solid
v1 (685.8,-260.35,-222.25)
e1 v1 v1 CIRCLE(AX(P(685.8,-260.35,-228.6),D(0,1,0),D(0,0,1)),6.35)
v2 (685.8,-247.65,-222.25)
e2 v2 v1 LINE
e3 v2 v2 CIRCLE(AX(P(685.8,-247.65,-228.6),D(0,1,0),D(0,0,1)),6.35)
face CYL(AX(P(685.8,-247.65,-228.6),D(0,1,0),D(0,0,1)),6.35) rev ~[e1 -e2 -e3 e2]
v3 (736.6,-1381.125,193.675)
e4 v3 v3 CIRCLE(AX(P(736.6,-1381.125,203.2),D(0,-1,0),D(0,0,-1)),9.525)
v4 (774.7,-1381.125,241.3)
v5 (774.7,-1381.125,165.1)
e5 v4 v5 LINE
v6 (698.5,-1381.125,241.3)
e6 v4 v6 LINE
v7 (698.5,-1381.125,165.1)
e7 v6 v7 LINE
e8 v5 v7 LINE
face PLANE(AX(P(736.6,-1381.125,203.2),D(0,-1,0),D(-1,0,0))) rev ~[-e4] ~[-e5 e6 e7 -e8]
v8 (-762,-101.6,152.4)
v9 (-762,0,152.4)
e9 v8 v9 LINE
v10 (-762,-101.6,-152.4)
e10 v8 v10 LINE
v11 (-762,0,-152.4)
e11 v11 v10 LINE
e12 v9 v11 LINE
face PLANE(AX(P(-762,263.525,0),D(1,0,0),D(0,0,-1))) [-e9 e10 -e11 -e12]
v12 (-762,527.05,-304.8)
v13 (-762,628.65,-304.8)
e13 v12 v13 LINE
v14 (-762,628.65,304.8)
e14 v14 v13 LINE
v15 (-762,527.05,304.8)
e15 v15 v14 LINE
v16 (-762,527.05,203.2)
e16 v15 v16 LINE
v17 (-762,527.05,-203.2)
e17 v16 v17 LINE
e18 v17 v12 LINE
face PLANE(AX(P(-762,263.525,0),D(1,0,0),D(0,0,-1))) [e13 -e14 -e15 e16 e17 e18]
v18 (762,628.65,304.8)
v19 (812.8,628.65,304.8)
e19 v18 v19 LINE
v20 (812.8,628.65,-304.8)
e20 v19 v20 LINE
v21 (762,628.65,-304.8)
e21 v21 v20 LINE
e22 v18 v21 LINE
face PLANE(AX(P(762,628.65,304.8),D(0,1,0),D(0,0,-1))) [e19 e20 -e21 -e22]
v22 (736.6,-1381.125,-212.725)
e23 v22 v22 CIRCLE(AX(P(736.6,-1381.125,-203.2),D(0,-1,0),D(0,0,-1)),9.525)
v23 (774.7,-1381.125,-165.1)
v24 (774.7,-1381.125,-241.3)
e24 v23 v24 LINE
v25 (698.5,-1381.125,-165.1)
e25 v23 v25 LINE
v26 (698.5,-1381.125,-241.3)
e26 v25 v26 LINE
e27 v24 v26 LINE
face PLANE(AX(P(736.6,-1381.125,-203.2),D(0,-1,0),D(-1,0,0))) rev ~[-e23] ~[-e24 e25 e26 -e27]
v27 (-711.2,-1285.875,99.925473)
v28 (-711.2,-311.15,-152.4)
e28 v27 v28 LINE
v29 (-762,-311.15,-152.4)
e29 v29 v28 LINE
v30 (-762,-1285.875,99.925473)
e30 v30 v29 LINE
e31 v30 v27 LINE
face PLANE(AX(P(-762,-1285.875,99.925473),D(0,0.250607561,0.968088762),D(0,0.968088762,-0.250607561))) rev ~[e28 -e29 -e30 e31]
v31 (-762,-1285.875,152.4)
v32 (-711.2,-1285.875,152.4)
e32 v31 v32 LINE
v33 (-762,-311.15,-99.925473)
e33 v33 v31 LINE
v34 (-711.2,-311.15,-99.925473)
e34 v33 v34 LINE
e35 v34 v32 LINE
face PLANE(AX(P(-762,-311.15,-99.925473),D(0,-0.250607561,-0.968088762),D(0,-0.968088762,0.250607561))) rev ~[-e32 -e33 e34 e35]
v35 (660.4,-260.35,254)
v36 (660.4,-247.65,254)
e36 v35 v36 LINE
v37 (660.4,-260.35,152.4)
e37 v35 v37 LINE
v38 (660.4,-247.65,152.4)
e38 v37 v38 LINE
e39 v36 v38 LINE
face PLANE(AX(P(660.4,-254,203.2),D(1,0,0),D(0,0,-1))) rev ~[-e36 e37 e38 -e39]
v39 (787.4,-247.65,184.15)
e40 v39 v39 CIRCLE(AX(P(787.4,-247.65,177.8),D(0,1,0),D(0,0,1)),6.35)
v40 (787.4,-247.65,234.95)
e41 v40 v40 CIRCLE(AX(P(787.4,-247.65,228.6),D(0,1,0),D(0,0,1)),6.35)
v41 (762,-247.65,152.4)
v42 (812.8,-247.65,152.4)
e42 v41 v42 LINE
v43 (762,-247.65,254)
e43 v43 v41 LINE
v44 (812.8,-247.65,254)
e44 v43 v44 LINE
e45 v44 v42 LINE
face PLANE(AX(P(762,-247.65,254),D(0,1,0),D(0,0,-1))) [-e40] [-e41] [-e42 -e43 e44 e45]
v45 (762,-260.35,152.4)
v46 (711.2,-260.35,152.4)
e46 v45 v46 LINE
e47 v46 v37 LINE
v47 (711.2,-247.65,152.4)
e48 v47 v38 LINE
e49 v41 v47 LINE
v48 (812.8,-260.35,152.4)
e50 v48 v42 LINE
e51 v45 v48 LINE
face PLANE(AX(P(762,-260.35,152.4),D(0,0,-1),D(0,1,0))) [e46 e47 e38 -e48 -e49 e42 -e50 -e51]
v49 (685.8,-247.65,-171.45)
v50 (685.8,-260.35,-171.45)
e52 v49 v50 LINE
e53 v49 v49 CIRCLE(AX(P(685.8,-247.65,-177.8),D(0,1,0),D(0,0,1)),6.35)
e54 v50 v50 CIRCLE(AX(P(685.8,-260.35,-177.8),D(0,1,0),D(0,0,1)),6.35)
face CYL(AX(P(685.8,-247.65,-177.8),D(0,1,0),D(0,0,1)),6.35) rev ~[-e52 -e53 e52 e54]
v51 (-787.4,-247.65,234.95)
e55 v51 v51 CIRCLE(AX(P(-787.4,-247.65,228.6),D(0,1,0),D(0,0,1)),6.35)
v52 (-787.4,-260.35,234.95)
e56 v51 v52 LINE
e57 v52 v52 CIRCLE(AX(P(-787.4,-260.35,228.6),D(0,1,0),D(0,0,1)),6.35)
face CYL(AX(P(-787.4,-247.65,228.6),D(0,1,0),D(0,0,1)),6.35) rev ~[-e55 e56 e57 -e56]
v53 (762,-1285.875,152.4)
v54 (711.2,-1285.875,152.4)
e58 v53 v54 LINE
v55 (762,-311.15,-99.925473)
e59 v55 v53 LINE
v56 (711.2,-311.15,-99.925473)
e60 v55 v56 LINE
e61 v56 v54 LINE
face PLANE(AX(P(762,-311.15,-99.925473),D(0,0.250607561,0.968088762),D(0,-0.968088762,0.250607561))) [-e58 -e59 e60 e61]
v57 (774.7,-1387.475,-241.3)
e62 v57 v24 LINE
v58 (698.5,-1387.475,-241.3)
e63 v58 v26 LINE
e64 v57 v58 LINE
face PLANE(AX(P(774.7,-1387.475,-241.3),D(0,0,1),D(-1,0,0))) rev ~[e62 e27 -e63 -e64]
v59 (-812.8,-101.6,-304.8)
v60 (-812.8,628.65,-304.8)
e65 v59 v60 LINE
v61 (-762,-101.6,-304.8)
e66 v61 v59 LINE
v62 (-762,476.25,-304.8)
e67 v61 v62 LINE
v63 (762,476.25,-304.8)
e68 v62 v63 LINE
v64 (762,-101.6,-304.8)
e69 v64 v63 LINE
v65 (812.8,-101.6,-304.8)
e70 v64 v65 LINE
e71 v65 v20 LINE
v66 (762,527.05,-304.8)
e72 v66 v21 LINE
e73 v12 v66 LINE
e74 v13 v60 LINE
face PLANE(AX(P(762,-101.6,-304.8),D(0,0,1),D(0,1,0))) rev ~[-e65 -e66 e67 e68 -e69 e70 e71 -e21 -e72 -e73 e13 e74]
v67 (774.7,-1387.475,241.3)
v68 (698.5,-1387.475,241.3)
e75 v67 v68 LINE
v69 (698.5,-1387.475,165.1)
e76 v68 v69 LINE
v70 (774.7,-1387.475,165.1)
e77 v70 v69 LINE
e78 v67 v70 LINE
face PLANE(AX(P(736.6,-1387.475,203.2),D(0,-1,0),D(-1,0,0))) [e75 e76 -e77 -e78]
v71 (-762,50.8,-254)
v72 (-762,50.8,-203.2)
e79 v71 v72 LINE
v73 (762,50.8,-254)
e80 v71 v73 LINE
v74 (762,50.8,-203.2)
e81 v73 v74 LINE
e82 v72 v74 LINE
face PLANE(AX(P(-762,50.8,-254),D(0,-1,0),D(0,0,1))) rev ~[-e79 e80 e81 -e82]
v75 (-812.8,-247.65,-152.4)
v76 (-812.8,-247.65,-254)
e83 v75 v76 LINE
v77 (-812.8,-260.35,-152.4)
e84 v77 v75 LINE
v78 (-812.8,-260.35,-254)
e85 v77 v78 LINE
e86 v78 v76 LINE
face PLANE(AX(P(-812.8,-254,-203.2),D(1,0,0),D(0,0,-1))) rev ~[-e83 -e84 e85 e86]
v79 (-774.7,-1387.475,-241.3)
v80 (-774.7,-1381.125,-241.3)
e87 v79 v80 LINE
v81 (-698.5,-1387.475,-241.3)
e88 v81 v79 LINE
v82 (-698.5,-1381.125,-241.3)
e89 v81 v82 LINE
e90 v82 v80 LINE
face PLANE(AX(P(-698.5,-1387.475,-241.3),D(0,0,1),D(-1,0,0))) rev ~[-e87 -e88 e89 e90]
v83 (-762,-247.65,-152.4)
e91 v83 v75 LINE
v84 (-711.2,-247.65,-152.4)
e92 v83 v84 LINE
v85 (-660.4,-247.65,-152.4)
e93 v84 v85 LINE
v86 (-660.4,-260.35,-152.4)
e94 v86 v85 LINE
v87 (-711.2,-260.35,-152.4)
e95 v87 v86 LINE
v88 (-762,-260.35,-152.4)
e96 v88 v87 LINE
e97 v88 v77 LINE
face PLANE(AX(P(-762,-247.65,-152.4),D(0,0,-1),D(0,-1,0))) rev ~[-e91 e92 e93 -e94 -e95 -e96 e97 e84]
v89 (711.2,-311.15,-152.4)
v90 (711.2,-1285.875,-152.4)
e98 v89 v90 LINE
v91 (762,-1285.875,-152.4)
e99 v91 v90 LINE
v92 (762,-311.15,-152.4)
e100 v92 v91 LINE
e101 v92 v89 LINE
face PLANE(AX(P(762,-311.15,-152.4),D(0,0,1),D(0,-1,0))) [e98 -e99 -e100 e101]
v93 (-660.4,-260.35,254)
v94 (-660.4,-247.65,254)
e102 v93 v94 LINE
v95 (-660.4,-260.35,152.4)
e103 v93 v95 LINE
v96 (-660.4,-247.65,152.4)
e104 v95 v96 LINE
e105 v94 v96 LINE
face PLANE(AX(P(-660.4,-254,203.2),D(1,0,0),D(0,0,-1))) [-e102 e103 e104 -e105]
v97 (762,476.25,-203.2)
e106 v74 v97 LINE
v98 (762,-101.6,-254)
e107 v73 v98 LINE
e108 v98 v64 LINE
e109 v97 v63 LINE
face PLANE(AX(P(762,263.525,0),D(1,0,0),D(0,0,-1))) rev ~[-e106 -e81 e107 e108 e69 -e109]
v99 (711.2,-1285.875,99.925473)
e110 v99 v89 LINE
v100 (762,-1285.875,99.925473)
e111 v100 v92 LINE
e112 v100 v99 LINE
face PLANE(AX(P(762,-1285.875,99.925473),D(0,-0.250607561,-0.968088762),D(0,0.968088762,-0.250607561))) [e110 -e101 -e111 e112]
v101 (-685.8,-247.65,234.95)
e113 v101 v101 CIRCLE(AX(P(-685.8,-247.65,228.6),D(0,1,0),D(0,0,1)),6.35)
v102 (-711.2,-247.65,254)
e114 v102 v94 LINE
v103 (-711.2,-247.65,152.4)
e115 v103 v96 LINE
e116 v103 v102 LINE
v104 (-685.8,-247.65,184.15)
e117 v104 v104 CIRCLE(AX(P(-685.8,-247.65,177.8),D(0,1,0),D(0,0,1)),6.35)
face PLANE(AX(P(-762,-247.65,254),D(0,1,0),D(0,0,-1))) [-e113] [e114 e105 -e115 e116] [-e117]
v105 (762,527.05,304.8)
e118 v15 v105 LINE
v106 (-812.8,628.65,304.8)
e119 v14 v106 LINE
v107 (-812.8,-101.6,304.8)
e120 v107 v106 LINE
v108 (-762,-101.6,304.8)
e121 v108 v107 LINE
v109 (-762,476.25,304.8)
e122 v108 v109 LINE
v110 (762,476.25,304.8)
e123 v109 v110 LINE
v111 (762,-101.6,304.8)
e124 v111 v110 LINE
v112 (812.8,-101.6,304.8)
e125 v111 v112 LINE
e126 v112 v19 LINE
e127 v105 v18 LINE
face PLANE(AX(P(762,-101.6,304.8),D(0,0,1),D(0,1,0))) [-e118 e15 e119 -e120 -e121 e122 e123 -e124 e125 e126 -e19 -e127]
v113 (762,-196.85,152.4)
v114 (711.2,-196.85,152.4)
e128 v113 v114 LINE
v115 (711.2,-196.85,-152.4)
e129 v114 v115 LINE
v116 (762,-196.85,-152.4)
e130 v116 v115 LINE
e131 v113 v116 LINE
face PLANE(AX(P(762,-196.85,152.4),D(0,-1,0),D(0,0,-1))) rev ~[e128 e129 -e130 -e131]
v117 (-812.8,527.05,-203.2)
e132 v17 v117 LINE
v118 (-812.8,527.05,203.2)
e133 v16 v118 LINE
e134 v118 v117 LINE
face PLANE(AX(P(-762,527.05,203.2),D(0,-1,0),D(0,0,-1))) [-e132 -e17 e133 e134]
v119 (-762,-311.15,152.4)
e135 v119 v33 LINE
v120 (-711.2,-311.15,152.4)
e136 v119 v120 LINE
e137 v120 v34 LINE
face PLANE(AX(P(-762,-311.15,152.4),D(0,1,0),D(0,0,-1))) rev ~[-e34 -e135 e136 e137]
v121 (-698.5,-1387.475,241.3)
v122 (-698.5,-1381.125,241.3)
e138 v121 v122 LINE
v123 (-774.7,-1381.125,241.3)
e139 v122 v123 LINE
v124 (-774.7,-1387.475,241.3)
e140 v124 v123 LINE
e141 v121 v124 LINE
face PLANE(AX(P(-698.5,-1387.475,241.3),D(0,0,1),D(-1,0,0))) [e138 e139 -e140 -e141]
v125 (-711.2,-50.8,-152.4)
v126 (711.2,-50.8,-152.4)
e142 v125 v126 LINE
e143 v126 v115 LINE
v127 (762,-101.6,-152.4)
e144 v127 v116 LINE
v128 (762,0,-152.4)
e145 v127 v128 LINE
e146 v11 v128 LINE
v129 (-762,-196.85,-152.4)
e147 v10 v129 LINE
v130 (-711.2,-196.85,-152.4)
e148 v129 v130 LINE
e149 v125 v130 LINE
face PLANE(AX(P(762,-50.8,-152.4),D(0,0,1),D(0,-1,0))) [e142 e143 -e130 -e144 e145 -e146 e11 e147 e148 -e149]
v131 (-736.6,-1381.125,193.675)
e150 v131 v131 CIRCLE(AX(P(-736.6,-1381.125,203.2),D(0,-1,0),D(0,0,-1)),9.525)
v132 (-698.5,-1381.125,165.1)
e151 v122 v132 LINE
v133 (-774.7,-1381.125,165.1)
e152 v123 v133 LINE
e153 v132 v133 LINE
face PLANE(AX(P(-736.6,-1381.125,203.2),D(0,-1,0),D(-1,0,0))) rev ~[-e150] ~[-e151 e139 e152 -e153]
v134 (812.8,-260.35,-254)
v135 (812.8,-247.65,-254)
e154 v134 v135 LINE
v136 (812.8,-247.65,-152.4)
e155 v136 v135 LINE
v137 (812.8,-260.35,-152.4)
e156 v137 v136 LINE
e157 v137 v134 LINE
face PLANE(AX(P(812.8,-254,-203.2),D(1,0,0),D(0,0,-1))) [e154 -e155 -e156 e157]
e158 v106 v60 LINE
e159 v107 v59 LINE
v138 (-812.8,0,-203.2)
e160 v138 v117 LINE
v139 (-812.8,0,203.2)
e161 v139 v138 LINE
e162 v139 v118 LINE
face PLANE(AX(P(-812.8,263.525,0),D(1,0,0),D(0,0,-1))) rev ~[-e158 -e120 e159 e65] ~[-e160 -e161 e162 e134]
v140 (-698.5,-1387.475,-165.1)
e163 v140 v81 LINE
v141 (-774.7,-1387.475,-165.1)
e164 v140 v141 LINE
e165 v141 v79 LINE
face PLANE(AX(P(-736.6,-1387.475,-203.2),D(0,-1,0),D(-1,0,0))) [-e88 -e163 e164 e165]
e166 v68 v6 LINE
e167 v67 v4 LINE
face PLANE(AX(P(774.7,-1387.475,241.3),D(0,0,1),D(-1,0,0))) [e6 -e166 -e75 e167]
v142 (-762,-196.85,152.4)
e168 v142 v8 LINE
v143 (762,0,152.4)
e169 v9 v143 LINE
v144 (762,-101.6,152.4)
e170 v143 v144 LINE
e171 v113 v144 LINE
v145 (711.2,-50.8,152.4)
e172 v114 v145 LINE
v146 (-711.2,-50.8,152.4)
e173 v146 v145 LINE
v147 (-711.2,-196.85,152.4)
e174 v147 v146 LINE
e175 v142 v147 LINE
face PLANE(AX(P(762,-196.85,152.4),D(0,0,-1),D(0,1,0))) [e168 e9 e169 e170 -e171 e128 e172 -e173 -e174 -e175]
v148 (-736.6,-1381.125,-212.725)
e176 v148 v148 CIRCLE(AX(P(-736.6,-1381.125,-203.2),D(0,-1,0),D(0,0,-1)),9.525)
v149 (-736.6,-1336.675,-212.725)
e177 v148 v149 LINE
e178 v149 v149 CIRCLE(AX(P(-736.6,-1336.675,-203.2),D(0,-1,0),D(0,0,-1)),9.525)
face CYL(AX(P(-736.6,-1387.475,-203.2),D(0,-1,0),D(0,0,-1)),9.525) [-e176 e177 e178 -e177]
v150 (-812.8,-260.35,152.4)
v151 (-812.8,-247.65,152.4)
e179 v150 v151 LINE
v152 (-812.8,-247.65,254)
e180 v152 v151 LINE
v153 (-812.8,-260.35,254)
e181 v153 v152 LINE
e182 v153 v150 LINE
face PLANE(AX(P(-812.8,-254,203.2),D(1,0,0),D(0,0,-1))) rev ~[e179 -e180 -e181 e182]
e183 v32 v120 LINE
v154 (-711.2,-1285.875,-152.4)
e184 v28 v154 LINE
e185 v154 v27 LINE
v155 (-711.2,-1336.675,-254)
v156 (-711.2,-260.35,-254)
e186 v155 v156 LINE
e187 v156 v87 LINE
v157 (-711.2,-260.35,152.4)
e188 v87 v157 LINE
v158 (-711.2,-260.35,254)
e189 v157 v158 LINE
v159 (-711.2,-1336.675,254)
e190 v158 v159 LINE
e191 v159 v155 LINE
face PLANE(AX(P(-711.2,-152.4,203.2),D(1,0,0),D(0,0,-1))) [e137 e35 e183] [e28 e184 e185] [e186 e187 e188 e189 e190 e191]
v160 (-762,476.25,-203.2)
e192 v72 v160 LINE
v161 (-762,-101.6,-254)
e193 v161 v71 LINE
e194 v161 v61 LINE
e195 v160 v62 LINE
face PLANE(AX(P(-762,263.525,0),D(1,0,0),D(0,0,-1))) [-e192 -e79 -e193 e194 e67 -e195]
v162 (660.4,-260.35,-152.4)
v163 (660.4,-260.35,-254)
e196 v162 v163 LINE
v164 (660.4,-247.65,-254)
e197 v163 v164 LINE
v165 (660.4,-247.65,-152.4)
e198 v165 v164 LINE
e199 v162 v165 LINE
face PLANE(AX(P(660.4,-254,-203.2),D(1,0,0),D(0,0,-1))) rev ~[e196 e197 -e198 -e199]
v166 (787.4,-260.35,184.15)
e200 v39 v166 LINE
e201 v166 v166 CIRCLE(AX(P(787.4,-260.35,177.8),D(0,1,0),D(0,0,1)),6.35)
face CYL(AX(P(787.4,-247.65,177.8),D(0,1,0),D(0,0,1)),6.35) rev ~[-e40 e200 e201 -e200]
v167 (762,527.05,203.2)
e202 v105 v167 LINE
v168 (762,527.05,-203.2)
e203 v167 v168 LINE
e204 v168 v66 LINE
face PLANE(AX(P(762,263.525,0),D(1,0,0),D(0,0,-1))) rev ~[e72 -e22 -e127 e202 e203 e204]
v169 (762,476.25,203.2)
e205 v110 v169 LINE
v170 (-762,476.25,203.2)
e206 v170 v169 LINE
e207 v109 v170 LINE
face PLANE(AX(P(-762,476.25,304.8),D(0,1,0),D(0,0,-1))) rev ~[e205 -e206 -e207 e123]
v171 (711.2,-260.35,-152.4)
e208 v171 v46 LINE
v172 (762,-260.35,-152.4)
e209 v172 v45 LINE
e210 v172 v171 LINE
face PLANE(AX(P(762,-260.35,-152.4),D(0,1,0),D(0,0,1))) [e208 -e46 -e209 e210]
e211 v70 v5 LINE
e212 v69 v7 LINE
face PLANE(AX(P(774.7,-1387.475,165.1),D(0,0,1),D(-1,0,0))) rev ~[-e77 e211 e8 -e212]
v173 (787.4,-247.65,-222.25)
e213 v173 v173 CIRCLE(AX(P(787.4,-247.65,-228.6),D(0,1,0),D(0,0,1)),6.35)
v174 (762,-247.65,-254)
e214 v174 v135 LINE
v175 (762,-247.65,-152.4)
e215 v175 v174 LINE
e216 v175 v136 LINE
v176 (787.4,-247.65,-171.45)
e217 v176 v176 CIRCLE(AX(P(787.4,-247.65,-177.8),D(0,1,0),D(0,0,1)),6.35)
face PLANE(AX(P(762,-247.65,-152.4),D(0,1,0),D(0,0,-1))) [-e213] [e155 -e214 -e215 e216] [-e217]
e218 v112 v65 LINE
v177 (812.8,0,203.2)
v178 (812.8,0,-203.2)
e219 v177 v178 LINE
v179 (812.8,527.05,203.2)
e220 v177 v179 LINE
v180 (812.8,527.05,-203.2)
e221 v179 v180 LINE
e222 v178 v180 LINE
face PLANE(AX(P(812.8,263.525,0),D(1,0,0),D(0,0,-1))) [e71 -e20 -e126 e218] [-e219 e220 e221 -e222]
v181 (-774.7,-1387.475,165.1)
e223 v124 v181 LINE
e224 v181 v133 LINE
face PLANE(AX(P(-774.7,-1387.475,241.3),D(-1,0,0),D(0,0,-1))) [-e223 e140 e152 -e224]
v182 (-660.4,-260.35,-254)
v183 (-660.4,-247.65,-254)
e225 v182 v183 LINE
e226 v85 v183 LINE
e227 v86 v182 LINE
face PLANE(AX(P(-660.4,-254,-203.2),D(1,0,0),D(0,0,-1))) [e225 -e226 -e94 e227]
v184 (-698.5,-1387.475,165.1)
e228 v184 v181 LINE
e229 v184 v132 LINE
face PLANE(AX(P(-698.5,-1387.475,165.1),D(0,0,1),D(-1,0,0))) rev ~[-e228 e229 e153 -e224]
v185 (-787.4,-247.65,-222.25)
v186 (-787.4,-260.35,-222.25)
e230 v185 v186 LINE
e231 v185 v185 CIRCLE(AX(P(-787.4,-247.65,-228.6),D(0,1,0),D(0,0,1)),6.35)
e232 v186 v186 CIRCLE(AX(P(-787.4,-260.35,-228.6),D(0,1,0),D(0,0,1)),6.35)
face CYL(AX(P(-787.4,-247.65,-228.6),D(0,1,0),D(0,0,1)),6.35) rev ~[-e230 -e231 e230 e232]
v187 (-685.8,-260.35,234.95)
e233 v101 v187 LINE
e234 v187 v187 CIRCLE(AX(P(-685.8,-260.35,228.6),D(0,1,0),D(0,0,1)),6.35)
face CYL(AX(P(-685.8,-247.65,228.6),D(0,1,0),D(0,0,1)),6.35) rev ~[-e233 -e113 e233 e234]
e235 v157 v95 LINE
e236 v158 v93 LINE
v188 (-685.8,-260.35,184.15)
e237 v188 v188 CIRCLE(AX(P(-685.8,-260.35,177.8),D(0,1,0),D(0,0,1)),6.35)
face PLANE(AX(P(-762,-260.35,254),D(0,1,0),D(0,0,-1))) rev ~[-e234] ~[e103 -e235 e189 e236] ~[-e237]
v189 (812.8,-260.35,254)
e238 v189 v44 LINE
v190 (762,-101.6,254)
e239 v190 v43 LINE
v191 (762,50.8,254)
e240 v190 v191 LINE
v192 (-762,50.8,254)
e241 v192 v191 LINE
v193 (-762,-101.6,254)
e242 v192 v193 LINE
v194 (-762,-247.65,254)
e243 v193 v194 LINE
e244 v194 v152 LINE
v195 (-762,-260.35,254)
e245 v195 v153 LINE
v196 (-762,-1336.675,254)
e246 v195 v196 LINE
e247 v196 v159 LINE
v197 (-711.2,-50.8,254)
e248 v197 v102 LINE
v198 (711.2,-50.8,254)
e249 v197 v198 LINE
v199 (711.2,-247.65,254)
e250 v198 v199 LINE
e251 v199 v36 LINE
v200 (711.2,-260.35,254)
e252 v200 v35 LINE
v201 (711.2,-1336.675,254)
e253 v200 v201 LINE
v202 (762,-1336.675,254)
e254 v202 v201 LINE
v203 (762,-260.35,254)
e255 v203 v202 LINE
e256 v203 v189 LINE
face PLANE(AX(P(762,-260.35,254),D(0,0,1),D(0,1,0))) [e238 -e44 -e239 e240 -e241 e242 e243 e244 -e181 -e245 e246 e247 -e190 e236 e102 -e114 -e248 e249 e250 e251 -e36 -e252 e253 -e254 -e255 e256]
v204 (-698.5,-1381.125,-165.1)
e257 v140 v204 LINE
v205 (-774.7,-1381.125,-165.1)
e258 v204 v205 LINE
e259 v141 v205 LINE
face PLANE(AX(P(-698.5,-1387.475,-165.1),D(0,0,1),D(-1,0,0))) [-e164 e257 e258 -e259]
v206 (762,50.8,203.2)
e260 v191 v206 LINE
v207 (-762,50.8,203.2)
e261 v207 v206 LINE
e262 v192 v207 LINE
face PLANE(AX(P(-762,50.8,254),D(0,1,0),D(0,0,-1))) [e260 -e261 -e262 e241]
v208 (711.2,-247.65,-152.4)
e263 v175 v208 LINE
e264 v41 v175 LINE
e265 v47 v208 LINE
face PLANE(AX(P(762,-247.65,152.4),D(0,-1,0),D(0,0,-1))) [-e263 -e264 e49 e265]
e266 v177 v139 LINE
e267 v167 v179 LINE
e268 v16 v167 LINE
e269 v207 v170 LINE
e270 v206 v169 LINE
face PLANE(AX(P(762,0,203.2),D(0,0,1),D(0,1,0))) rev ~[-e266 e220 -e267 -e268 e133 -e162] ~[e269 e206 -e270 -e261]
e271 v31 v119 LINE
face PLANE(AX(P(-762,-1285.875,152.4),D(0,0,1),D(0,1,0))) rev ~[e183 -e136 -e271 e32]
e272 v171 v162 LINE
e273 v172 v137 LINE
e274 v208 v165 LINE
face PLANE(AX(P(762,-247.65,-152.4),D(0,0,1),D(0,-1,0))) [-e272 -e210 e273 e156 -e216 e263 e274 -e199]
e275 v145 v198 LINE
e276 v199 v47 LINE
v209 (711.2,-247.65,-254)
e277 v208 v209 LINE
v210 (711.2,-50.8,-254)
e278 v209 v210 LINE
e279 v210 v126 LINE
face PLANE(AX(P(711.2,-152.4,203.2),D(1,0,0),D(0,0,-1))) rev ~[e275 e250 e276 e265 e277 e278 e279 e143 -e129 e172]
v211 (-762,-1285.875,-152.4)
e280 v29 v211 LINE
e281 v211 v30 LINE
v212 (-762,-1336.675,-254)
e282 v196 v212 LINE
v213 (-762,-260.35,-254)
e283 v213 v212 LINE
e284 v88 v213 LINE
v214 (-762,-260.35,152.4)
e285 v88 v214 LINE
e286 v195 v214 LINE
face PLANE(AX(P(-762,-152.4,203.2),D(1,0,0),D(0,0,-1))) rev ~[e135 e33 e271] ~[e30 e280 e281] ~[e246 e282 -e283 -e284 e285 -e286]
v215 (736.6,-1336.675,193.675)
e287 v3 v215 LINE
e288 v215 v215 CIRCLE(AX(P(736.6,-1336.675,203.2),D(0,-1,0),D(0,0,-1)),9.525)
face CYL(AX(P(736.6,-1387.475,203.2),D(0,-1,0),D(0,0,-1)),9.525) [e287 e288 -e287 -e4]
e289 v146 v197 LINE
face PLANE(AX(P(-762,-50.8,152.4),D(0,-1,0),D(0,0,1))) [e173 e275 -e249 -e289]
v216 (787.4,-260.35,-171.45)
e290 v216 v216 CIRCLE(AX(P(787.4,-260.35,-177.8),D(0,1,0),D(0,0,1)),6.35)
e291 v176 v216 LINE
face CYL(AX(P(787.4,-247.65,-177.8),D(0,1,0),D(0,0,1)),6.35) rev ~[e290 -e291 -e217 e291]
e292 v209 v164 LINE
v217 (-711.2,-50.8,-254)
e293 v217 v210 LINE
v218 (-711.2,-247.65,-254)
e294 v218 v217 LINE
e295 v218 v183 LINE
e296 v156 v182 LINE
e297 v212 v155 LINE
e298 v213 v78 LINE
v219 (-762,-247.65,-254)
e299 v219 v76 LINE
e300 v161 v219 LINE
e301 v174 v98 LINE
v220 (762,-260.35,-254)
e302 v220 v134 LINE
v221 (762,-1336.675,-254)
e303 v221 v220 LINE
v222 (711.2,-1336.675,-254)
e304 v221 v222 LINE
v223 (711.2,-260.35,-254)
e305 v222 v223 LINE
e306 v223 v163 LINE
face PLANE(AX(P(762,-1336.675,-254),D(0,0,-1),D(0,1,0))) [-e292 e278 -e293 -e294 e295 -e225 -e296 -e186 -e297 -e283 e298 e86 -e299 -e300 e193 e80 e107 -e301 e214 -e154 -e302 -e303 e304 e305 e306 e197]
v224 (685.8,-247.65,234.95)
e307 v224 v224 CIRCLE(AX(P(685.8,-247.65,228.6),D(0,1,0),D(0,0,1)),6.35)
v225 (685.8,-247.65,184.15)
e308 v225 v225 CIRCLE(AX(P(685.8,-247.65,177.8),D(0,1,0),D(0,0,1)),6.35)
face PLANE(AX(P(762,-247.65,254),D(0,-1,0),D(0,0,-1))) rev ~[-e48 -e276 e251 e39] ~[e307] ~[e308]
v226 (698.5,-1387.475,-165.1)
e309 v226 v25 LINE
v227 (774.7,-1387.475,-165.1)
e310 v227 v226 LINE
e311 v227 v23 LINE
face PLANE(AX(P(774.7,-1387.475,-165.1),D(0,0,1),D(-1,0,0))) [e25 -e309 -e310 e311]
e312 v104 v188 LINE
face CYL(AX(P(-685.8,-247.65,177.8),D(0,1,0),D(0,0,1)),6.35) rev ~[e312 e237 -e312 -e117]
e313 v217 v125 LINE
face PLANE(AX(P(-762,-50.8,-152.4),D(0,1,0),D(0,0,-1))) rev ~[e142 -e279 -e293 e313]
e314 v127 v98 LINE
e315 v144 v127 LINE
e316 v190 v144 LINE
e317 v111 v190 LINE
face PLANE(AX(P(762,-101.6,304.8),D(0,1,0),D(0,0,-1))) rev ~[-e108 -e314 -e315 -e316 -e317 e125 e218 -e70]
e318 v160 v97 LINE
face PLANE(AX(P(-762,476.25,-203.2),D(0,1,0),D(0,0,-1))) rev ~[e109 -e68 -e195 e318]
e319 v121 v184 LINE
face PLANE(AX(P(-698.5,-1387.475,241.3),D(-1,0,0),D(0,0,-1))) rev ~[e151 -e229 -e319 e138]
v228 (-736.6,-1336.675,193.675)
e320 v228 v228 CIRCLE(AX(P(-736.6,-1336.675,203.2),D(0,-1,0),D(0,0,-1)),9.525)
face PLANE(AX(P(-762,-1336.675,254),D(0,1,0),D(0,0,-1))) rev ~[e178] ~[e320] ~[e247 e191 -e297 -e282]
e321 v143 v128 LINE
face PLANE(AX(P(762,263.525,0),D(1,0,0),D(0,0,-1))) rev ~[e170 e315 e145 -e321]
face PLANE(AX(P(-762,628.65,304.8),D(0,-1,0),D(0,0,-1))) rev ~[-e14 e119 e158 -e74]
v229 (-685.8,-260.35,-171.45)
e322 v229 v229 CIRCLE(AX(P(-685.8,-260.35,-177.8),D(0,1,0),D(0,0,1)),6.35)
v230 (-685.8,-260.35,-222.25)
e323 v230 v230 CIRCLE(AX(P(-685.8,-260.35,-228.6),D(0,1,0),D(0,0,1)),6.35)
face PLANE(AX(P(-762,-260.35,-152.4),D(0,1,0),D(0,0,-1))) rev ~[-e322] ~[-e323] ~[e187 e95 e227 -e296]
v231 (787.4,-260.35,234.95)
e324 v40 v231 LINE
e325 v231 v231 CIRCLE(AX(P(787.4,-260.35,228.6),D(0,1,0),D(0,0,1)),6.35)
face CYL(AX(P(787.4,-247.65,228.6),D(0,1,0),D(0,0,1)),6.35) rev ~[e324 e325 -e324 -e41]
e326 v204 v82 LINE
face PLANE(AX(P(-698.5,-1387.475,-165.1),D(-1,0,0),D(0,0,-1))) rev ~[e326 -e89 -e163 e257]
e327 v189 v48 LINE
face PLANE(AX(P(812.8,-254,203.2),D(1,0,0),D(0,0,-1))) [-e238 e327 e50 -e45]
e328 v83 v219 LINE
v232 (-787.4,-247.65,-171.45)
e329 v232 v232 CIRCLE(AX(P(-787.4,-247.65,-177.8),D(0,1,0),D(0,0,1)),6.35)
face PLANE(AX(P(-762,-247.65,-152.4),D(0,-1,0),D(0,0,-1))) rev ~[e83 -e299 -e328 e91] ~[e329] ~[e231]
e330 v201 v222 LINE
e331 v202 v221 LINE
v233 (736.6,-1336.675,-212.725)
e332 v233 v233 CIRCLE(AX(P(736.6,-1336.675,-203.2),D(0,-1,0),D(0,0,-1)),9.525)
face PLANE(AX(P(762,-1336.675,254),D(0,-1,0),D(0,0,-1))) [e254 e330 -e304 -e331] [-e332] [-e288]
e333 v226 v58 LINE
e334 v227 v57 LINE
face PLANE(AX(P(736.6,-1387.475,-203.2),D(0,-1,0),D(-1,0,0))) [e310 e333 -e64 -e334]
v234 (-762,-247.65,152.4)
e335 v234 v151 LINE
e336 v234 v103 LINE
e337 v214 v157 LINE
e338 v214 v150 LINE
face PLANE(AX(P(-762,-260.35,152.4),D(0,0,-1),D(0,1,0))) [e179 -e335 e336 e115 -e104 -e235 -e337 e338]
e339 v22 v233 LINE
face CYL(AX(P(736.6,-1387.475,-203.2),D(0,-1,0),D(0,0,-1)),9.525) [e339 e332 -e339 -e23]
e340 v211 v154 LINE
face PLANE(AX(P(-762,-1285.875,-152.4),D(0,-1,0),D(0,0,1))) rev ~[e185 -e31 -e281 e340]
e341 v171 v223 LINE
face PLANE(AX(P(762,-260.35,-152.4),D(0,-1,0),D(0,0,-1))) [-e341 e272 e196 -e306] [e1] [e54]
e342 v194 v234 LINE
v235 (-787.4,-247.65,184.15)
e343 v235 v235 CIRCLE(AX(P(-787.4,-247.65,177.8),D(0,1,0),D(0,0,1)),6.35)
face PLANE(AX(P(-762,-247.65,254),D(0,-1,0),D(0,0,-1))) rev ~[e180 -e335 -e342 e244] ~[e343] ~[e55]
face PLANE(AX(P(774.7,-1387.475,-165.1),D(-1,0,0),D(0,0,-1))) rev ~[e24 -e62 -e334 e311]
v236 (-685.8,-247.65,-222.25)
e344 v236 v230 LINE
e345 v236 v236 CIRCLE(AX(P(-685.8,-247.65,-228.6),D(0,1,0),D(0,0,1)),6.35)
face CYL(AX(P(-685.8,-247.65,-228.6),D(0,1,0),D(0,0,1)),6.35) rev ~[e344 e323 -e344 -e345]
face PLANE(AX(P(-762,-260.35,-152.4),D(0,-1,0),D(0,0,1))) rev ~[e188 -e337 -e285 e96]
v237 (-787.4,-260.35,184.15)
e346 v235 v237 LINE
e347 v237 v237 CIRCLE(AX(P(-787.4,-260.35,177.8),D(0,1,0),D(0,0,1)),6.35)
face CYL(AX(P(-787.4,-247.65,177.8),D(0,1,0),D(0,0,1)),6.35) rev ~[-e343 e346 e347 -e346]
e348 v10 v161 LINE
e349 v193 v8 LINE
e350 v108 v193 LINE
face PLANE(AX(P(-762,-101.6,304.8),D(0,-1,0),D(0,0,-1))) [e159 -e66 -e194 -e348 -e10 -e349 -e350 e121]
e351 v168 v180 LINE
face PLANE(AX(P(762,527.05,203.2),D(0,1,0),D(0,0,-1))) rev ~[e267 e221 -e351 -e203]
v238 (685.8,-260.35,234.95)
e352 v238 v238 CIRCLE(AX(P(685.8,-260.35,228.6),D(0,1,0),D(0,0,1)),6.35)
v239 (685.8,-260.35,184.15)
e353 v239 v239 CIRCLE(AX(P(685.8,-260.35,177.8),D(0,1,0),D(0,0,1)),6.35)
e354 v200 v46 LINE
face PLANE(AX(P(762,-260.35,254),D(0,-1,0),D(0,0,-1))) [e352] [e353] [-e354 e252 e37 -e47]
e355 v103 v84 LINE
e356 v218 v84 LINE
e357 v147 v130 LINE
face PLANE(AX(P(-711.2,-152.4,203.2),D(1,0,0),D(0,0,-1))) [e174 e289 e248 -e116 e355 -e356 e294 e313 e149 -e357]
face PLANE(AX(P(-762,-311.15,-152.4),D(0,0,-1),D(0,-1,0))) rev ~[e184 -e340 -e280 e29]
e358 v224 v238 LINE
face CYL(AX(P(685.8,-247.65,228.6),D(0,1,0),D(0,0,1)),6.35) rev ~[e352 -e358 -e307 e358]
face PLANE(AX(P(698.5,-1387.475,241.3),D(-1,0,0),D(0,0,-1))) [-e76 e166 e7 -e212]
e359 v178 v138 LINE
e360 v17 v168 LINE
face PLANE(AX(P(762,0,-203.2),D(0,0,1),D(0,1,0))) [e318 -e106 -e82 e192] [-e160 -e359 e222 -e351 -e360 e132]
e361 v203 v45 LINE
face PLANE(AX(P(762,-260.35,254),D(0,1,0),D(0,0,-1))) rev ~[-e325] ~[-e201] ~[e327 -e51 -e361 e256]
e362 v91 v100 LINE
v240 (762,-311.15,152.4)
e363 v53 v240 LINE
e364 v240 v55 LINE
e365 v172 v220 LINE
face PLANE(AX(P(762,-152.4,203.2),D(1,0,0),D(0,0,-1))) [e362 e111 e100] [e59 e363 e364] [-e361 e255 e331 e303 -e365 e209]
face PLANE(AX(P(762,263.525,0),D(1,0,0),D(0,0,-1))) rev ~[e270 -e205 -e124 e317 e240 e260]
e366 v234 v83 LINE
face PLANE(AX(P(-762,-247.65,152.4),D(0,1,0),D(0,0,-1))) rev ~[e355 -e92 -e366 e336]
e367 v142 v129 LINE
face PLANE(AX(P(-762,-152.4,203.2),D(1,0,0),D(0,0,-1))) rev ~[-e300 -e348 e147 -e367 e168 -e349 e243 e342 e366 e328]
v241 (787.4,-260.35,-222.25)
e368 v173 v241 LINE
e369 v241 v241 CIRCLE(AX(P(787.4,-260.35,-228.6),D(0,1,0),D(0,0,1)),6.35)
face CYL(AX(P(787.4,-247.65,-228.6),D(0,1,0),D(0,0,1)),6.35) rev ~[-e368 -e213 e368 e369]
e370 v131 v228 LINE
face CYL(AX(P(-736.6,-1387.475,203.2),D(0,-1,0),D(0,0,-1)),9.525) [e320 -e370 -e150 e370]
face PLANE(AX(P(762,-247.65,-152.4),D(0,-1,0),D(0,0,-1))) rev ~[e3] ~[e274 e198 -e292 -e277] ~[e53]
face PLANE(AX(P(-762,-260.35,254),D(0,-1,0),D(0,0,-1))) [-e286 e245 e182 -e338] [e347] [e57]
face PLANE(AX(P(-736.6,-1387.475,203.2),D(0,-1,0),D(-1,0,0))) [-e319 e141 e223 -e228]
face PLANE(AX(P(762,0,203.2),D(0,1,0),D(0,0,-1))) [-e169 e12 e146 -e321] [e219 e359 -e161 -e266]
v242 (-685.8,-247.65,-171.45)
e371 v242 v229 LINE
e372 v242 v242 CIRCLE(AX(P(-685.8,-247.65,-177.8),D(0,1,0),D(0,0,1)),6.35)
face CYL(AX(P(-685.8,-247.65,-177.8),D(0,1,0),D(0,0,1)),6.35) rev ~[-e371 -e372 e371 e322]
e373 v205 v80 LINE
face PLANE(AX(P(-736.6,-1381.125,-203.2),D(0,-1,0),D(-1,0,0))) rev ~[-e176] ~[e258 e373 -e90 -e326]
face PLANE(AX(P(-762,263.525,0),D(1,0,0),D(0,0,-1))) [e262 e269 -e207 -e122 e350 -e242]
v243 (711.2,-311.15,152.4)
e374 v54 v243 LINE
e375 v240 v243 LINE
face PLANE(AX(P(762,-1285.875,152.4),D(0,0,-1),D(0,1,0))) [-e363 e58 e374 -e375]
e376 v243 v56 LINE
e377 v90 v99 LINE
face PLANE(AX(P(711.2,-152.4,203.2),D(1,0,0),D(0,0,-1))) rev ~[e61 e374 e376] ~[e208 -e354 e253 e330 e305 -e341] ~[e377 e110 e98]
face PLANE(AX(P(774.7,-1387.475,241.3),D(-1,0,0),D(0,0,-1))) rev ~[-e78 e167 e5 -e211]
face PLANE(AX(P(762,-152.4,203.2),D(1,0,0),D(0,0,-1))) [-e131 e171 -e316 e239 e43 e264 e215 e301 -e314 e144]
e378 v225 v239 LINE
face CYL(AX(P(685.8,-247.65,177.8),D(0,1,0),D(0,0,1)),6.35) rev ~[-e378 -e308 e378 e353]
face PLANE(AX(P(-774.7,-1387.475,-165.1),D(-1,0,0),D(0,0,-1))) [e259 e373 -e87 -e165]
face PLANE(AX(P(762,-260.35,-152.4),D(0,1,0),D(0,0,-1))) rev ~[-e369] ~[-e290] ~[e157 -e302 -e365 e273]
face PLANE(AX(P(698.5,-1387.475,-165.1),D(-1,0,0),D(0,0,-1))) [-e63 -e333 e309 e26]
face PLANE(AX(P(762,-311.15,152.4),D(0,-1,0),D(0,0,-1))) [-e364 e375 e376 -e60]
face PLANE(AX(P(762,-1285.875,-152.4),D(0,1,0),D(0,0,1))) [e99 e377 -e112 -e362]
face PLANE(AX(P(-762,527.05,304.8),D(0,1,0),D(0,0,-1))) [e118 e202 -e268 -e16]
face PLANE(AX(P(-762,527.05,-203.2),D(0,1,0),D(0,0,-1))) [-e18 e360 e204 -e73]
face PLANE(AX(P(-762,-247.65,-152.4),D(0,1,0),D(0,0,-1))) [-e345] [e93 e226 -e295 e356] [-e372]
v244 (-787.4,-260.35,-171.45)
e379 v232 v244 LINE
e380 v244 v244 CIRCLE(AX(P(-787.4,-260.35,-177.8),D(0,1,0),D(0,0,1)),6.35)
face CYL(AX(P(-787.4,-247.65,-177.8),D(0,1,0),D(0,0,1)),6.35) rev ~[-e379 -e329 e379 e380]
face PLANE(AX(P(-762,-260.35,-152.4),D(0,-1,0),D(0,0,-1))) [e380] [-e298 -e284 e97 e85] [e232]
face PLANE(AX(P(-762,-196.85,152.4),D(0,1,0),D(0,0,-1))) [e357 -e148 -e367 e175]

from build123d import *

# Parameters (mm, degrees)
SKETCH1_W            = 609.6
SKETCH1_H            = 730.25
SKETCH1_W_2          = 406.4
SKETCH1_H_2          = 527.05
BOSS_EXTRUDE1_DEPTH  = 50.8
SKETCH2_W            = 101.6
SKETCH2_H            = 50.8
BOSS_EXTRUDE2_DEPTH  = 1524
SKETCH3_W            = 304.8
SKETCH3_H            = 12.7
BOSS_EXTRUDE3_DEPTH  = 50.8
SKETCH4_W            = 101.6
SKETCH4_H            = 12.7
BOSS_EXTRUDE4_DEPTH  = 101.6
SKETCH4_2_W          = 101.6
SKETCH4_2_H          = 12.7
BOSS_EXTRUDE5_DEPTH  = 50.8
SKETCH5_W            = 609.6
SKETCH5_H            = 730.25
SKETCH5_W_2          = 406.4
SKETCH5_H_2          = 527.05
BOSS_EXTRUDE6_DEPTH  = 50.8
SKETCH7_W            = 304.8
SKETCH7_H            = 12.7
BOSS_EXTRUDE7_DEPTH  = 50.8
SKETCH8_W            = 101.6
SKETCH8_H            = 12.7
BOSS_EXTRUDE8_DEPTH  = 50.8
SKETCH8_2_W          = 101.6
SKETCH8_2_H          = 12.7
BOSS_EXTRUDE9_DEPTH  = 101.6
SKETCH9_R            = 6.35
CUT_EXTRUDE1_DEPTH   = 12.7
SKETCH10_R           = 9.525
BOSS_EXTRUDE10_DEPTH = 50.8
SKETCH10_3_W         = 76.2
SKETCH10_3_H         = 76.2
SKETCH10_3_R         = 9.525
BOSS_EXTRUDE11_DEPTH = 6.35


with BuildPart() as part:
    # Sketch1 → Boss-Extrude1 (new body)
    with BuildSketch(Plane(origin=(-762, 0, 0), x_dir=(0, 0, -1), z_dir=(1, 0, 0))):
        with Locations((0, 263.525)):
            Rectangle(SKETCH1_W, SKETCH1_H)
        with Locations((0, 263.525)):
            Rectangle(SKETCH1_W_2, SKETCH1_H_2, mode=Mode.SUBTRACT)
    extrude(amount=-BOSS_EXTRUDE1_DEPTH)

    # Sketch2 → Boss-Extrude2 (add)
    with BuildSketch(Plane(origin=(-762, 0, 0), x_dir=(0, 0, -1), z_dir=(1, 0, 0))):
        Polygon((-203.2, 50.8), (-203.2, 0), (-152.4, 0), (-152.4, -50.8), (-254, -50.8), (-254, 50.8), align=None)
        Polygon((203.2, 50.8), (203.2, 0), (152.4, 0), (152.4, -50.8), (254, -50.8), (254, 50.8), align=None)
        with Locations((-254, 501.65)):
            Rectangle(SKETCH2_W, SKETCH2_H)
        with Locations((254, 501.65)):
            Rectangle(SKETCH2_W, SKETCH2_H)
    extrude(amount=BOSS_EXTRUDE2_DEPTH)

    # Sketch3 → Boss-Extrude3 (add)
    with BuildSketch(Plane(origin=(-762, 0, 0), x_dir=(0, 0, -1), z_dir=(1, 0, 0))):
        Polygon((-152.4, -50.8), (-254, -50.8), (-254, -1336.675), (254, -1336.675), (254, -50.8), (152.4, -50.8), (152.4, -196.85), (-152.4, -196.85), align=None)
        with Locations((0, -254)):
            Rectangle(SKETCH3_W, SKETCH3_H, mode=Mode.SUBTRACT)
        Polygon((-152.4, -1285.875), (-152.4, -311.15), (99.92547286, -311.15), align=None, mode=Mode.SUBTRACT)
        Polygon((152.4, -1285.875), (-99.92547286, -1285.875), (152.4, -311.15), align=None, mode=Mode.SUBTRACT)
    extrude(amount=BOSS_EXTRUDE3_DEPTH)

    # Sketch4 → Boss-Extrude4 (add)
    with BuildSketch(Plane(origin=(-762, 0, 0), x_dir=(0, 0, -1), z_dir=(1, 0, 0))):
        with Locations((-203.2, -254)):
            Rectangle(SKETCH4_W, SKETCH4_H)
        with Locations((203.2, -254)):
            Rectangle(SKETCH4_W, SKETCH4_H)
    extrude(amount=BOSS_EXTRUDE4_DEPTH)

    # Sketch4<2> → Boss-Extrude5 (add)
    with BuildSketch(Plane(origin=(-762, 0, 0), x_dir=(0, 0, -1), z_dir=(1, 0, 0))):
        with Locations((-203.2, -254)):
            Rectangle(SKETCH4_2_W, SKETCH4_2_H)
        with Locations((203.2, -254)):
            Rectangle(SKETCH4_2_W, SKETCH4_2_H)
    extrude(amount=-BOSS_EXTRUDE5_DEPTH)

    # Sketch5 → Boss-Extrude6 (add)
    with BuildSketch(Plane(origin=(762, 0, 0), x_dir=(0, 0, -1), z_dir=(1, 0, 0))):
        with Locations((0, 263.525)):
            Rectangle(SKETCH5_W, SKETCH5_H)
        with Locations((0, 263.525)):
            Rectangle(SKETCH5_W_2, SKETCH5_H_2, mode=Mode.SUBTRACT)
    extrude(amount=BOSS_EXTRUDE6_DEPTH)

    # Sketch7 → Boss-Extrude7 (add)
    with BuildSketch(Plane(origin=(762, 0, 0), x_dir=(0, 0, -1), z_dir=(1, 0, 0))):
        Polygon((-152.4, -50.8), (-254, -50.8), (-254, -1336.675), (254, -1336.675), (254, -50.8), (152.4, -50.8), (152.4, -196.85), (-152.4, -196.85), align=None)
        with Locations((0, -254)):
            Rectangle(SKETCH7_W, SKETCH7_H, mode=Mode.SUBTRACT)
        Polygon((-152.4, -1285.875), (-152.4, -311.15), (99.92547286, -311.15), align=None, mode=Mode.SUBTRACT)
        Polygon((152.4, -1285.875), (-99.92547286, -1285.875), (152.4, -311.15), align=None, mode=Mode.SUBTRACT)
    extrude(amount=-BOSS_EXTRUDE7_DEPTH)

    # Sketch8 → Boss-Extrude8 (add)
    with BuildSketch(Plane(origin=(762, 0, 0), x_dir=(0, 0, -1), z_dir=(1, 0, 0))):
        with Locations((-203.2, -254)):
            Rectangle(SKETCH8_W, SKETCH8_H)
        with Locations((203.2, -254)):
            Rectangle(SKETCH8_W, SKETCH8_H)
    extrude(amount=BOSS_EXTRUDE8_DEPTH)

    # Sketch8<2> → Boss-Extrude9 (add)
    with BuildSketch(Plane(origin=(762, 0, 0), x_dir=(0, 0, -1), z_dir=(1, 0, 0))):
        with Locations((-203.2, -254)):
            Rectangle(SKETCH8_2_W, SKETCH8_2_H)
        with Locations((203.2, -254)):
            Rectangle(SKETCH8_2_W, SKETCH8_2_H)
    extrude(amount=-BOSS_EXTRUDE9_DEPTH)

    # Sketch9 → Cut-Extrude1 (cut)
    with BuildSketch(Plane(origin=(0, -247.65, 0), x_dir=(1, 0, 0), z_dir=(0, 1, 0))):
        with Locations((-787.4, 228.6)):
            Circle(SKETCH9_R)
        with Locations((-787.4, 177.8)):
            Circle(SKETCH9_R)
        with Locations((-685.8, 177.8)):
            Circle(SKETCH9_R)
        with Locations((-685.8, 228.6)):
            Circle(SKETCH9_R)
        with Locations((-787.4, -177.8)):
            Circle(SKETCH9_R)
        with Locations((-787.4, -228.6)):
            Circle(SKETCH9_R)
        with Locations((-685.8, -177.8)):
            Circle(SKETCH9_R)
        with Locations((-685.8, -228.6)):
            Circle(SKETCH9_R)
        with Locations((685.8, 228.6)):
            Circle(SKETCH9_R)
        with Locations((685.8, 177.8)):
            Circle(SKETCH9_R)
        with Locations((787.4, 228.6)):
            Circle(SKETCH9_R)
        with Locations((787.4, 177.8)):
            Circle(SKETCH9_R)
        with Locations((685.8, -177.8)):
            Circle(SKETCH9_R)
        with Locations((685.8, -228.6)):
            Circle(SKETCH9_R)
        with Locations((787.4, -177.8)):
            Circle(SKETCH9_R)
        with Locations((787.4, -228.6)):
            Circle(SKETCH9_R)
    extrude(amount=-CUT_EXTRUDE1_DEPTH, mode=Mode.SUBTRACT)

    # Sketch10 → Boss-Extrude10 (add)
    with BuildSketch(Plane(origin=(0, -1387.475, 0), x_dir=(-1, 0, 0), z_dir=(0, -1, 0))):
        with Locations((736.6, -203.2)):
            Circle(SKETCH10_R)
        with Locations((-736.6, -203.2)):
            Circle(SKETCH10_R)
        with Locations((-736.6, 203.2)):
            Circle(SKETCH10_R)
        with Locations((736.6, 203.2)):
            Circle(SKETCH10_R)
    extrude(amount=-BOSS_EXTRUDE10_DEPTH)

    # Sketch10<3> → Boss-Extrude11 (add)
    # profile 1 of 4: a face of its own
    with BuildSketch(Plane(origin=(0, -1387.475, 0), x_dir=(-1, 0, 0), z_dir=(0, -1, 0))):
        with Locations((-736.6, -203.2)):
            Rectangle(SKETCH10_3_W, SKETCH10_3_H)
        with Locations((-736.6, -203.2)):
            Circle(SKETCH10_3_R, mode=Mode.SUBTRACT)
    # profile 2 of 4: a face of its own
    with BuildSketch(Plane(origin=(0, -1387.475, 0), x_dir=(-1, 0, 0), z_dir=(0, -1, 0))):
        with Locations((736.6, -203.2)):
            Rectangle(SKETCH10_3_W, SKETCH10_3_H)
        with Locations((736.6, -203.2)):
            Circle(SKETCH10_3_R, mode=Mode.SUBTRACT)
    # profile 3 of 4: a face of its own
    with BuildSketch(Plane(origin=(0, -1387.475, 0), x_dir=(-1, 0, 0), z_dir=(0, -1, 0))):
        with Locations((-736.6, 203.2)):
            Rectangle(SKETCH10_3_W, SKETCH10_3_H)
        with Locations((-736.6, 203.2)):
            Circle(SKETCH10_3_R, mode=Mode.SUBTRACT)
    # profile 4 of 4: a face of its own
    with BuildSketch(Plane(origin=(0, -1387.475, 0), x_dir=(-1, 0, 0), z_dir=(0, -1, 0))):
        with Locations((736.6, 203.2)):
            Rectangle(SKETCH10_3_W, SKETCH10_3_H)
        with Locations((736.6, 203.2)):
            Circle(SKETCH10_3_R, mode=Mode.SUBTRACT)
    extrude(amount=-BOSS_EXTRUDE11_DEPTH)


solid = part.part
